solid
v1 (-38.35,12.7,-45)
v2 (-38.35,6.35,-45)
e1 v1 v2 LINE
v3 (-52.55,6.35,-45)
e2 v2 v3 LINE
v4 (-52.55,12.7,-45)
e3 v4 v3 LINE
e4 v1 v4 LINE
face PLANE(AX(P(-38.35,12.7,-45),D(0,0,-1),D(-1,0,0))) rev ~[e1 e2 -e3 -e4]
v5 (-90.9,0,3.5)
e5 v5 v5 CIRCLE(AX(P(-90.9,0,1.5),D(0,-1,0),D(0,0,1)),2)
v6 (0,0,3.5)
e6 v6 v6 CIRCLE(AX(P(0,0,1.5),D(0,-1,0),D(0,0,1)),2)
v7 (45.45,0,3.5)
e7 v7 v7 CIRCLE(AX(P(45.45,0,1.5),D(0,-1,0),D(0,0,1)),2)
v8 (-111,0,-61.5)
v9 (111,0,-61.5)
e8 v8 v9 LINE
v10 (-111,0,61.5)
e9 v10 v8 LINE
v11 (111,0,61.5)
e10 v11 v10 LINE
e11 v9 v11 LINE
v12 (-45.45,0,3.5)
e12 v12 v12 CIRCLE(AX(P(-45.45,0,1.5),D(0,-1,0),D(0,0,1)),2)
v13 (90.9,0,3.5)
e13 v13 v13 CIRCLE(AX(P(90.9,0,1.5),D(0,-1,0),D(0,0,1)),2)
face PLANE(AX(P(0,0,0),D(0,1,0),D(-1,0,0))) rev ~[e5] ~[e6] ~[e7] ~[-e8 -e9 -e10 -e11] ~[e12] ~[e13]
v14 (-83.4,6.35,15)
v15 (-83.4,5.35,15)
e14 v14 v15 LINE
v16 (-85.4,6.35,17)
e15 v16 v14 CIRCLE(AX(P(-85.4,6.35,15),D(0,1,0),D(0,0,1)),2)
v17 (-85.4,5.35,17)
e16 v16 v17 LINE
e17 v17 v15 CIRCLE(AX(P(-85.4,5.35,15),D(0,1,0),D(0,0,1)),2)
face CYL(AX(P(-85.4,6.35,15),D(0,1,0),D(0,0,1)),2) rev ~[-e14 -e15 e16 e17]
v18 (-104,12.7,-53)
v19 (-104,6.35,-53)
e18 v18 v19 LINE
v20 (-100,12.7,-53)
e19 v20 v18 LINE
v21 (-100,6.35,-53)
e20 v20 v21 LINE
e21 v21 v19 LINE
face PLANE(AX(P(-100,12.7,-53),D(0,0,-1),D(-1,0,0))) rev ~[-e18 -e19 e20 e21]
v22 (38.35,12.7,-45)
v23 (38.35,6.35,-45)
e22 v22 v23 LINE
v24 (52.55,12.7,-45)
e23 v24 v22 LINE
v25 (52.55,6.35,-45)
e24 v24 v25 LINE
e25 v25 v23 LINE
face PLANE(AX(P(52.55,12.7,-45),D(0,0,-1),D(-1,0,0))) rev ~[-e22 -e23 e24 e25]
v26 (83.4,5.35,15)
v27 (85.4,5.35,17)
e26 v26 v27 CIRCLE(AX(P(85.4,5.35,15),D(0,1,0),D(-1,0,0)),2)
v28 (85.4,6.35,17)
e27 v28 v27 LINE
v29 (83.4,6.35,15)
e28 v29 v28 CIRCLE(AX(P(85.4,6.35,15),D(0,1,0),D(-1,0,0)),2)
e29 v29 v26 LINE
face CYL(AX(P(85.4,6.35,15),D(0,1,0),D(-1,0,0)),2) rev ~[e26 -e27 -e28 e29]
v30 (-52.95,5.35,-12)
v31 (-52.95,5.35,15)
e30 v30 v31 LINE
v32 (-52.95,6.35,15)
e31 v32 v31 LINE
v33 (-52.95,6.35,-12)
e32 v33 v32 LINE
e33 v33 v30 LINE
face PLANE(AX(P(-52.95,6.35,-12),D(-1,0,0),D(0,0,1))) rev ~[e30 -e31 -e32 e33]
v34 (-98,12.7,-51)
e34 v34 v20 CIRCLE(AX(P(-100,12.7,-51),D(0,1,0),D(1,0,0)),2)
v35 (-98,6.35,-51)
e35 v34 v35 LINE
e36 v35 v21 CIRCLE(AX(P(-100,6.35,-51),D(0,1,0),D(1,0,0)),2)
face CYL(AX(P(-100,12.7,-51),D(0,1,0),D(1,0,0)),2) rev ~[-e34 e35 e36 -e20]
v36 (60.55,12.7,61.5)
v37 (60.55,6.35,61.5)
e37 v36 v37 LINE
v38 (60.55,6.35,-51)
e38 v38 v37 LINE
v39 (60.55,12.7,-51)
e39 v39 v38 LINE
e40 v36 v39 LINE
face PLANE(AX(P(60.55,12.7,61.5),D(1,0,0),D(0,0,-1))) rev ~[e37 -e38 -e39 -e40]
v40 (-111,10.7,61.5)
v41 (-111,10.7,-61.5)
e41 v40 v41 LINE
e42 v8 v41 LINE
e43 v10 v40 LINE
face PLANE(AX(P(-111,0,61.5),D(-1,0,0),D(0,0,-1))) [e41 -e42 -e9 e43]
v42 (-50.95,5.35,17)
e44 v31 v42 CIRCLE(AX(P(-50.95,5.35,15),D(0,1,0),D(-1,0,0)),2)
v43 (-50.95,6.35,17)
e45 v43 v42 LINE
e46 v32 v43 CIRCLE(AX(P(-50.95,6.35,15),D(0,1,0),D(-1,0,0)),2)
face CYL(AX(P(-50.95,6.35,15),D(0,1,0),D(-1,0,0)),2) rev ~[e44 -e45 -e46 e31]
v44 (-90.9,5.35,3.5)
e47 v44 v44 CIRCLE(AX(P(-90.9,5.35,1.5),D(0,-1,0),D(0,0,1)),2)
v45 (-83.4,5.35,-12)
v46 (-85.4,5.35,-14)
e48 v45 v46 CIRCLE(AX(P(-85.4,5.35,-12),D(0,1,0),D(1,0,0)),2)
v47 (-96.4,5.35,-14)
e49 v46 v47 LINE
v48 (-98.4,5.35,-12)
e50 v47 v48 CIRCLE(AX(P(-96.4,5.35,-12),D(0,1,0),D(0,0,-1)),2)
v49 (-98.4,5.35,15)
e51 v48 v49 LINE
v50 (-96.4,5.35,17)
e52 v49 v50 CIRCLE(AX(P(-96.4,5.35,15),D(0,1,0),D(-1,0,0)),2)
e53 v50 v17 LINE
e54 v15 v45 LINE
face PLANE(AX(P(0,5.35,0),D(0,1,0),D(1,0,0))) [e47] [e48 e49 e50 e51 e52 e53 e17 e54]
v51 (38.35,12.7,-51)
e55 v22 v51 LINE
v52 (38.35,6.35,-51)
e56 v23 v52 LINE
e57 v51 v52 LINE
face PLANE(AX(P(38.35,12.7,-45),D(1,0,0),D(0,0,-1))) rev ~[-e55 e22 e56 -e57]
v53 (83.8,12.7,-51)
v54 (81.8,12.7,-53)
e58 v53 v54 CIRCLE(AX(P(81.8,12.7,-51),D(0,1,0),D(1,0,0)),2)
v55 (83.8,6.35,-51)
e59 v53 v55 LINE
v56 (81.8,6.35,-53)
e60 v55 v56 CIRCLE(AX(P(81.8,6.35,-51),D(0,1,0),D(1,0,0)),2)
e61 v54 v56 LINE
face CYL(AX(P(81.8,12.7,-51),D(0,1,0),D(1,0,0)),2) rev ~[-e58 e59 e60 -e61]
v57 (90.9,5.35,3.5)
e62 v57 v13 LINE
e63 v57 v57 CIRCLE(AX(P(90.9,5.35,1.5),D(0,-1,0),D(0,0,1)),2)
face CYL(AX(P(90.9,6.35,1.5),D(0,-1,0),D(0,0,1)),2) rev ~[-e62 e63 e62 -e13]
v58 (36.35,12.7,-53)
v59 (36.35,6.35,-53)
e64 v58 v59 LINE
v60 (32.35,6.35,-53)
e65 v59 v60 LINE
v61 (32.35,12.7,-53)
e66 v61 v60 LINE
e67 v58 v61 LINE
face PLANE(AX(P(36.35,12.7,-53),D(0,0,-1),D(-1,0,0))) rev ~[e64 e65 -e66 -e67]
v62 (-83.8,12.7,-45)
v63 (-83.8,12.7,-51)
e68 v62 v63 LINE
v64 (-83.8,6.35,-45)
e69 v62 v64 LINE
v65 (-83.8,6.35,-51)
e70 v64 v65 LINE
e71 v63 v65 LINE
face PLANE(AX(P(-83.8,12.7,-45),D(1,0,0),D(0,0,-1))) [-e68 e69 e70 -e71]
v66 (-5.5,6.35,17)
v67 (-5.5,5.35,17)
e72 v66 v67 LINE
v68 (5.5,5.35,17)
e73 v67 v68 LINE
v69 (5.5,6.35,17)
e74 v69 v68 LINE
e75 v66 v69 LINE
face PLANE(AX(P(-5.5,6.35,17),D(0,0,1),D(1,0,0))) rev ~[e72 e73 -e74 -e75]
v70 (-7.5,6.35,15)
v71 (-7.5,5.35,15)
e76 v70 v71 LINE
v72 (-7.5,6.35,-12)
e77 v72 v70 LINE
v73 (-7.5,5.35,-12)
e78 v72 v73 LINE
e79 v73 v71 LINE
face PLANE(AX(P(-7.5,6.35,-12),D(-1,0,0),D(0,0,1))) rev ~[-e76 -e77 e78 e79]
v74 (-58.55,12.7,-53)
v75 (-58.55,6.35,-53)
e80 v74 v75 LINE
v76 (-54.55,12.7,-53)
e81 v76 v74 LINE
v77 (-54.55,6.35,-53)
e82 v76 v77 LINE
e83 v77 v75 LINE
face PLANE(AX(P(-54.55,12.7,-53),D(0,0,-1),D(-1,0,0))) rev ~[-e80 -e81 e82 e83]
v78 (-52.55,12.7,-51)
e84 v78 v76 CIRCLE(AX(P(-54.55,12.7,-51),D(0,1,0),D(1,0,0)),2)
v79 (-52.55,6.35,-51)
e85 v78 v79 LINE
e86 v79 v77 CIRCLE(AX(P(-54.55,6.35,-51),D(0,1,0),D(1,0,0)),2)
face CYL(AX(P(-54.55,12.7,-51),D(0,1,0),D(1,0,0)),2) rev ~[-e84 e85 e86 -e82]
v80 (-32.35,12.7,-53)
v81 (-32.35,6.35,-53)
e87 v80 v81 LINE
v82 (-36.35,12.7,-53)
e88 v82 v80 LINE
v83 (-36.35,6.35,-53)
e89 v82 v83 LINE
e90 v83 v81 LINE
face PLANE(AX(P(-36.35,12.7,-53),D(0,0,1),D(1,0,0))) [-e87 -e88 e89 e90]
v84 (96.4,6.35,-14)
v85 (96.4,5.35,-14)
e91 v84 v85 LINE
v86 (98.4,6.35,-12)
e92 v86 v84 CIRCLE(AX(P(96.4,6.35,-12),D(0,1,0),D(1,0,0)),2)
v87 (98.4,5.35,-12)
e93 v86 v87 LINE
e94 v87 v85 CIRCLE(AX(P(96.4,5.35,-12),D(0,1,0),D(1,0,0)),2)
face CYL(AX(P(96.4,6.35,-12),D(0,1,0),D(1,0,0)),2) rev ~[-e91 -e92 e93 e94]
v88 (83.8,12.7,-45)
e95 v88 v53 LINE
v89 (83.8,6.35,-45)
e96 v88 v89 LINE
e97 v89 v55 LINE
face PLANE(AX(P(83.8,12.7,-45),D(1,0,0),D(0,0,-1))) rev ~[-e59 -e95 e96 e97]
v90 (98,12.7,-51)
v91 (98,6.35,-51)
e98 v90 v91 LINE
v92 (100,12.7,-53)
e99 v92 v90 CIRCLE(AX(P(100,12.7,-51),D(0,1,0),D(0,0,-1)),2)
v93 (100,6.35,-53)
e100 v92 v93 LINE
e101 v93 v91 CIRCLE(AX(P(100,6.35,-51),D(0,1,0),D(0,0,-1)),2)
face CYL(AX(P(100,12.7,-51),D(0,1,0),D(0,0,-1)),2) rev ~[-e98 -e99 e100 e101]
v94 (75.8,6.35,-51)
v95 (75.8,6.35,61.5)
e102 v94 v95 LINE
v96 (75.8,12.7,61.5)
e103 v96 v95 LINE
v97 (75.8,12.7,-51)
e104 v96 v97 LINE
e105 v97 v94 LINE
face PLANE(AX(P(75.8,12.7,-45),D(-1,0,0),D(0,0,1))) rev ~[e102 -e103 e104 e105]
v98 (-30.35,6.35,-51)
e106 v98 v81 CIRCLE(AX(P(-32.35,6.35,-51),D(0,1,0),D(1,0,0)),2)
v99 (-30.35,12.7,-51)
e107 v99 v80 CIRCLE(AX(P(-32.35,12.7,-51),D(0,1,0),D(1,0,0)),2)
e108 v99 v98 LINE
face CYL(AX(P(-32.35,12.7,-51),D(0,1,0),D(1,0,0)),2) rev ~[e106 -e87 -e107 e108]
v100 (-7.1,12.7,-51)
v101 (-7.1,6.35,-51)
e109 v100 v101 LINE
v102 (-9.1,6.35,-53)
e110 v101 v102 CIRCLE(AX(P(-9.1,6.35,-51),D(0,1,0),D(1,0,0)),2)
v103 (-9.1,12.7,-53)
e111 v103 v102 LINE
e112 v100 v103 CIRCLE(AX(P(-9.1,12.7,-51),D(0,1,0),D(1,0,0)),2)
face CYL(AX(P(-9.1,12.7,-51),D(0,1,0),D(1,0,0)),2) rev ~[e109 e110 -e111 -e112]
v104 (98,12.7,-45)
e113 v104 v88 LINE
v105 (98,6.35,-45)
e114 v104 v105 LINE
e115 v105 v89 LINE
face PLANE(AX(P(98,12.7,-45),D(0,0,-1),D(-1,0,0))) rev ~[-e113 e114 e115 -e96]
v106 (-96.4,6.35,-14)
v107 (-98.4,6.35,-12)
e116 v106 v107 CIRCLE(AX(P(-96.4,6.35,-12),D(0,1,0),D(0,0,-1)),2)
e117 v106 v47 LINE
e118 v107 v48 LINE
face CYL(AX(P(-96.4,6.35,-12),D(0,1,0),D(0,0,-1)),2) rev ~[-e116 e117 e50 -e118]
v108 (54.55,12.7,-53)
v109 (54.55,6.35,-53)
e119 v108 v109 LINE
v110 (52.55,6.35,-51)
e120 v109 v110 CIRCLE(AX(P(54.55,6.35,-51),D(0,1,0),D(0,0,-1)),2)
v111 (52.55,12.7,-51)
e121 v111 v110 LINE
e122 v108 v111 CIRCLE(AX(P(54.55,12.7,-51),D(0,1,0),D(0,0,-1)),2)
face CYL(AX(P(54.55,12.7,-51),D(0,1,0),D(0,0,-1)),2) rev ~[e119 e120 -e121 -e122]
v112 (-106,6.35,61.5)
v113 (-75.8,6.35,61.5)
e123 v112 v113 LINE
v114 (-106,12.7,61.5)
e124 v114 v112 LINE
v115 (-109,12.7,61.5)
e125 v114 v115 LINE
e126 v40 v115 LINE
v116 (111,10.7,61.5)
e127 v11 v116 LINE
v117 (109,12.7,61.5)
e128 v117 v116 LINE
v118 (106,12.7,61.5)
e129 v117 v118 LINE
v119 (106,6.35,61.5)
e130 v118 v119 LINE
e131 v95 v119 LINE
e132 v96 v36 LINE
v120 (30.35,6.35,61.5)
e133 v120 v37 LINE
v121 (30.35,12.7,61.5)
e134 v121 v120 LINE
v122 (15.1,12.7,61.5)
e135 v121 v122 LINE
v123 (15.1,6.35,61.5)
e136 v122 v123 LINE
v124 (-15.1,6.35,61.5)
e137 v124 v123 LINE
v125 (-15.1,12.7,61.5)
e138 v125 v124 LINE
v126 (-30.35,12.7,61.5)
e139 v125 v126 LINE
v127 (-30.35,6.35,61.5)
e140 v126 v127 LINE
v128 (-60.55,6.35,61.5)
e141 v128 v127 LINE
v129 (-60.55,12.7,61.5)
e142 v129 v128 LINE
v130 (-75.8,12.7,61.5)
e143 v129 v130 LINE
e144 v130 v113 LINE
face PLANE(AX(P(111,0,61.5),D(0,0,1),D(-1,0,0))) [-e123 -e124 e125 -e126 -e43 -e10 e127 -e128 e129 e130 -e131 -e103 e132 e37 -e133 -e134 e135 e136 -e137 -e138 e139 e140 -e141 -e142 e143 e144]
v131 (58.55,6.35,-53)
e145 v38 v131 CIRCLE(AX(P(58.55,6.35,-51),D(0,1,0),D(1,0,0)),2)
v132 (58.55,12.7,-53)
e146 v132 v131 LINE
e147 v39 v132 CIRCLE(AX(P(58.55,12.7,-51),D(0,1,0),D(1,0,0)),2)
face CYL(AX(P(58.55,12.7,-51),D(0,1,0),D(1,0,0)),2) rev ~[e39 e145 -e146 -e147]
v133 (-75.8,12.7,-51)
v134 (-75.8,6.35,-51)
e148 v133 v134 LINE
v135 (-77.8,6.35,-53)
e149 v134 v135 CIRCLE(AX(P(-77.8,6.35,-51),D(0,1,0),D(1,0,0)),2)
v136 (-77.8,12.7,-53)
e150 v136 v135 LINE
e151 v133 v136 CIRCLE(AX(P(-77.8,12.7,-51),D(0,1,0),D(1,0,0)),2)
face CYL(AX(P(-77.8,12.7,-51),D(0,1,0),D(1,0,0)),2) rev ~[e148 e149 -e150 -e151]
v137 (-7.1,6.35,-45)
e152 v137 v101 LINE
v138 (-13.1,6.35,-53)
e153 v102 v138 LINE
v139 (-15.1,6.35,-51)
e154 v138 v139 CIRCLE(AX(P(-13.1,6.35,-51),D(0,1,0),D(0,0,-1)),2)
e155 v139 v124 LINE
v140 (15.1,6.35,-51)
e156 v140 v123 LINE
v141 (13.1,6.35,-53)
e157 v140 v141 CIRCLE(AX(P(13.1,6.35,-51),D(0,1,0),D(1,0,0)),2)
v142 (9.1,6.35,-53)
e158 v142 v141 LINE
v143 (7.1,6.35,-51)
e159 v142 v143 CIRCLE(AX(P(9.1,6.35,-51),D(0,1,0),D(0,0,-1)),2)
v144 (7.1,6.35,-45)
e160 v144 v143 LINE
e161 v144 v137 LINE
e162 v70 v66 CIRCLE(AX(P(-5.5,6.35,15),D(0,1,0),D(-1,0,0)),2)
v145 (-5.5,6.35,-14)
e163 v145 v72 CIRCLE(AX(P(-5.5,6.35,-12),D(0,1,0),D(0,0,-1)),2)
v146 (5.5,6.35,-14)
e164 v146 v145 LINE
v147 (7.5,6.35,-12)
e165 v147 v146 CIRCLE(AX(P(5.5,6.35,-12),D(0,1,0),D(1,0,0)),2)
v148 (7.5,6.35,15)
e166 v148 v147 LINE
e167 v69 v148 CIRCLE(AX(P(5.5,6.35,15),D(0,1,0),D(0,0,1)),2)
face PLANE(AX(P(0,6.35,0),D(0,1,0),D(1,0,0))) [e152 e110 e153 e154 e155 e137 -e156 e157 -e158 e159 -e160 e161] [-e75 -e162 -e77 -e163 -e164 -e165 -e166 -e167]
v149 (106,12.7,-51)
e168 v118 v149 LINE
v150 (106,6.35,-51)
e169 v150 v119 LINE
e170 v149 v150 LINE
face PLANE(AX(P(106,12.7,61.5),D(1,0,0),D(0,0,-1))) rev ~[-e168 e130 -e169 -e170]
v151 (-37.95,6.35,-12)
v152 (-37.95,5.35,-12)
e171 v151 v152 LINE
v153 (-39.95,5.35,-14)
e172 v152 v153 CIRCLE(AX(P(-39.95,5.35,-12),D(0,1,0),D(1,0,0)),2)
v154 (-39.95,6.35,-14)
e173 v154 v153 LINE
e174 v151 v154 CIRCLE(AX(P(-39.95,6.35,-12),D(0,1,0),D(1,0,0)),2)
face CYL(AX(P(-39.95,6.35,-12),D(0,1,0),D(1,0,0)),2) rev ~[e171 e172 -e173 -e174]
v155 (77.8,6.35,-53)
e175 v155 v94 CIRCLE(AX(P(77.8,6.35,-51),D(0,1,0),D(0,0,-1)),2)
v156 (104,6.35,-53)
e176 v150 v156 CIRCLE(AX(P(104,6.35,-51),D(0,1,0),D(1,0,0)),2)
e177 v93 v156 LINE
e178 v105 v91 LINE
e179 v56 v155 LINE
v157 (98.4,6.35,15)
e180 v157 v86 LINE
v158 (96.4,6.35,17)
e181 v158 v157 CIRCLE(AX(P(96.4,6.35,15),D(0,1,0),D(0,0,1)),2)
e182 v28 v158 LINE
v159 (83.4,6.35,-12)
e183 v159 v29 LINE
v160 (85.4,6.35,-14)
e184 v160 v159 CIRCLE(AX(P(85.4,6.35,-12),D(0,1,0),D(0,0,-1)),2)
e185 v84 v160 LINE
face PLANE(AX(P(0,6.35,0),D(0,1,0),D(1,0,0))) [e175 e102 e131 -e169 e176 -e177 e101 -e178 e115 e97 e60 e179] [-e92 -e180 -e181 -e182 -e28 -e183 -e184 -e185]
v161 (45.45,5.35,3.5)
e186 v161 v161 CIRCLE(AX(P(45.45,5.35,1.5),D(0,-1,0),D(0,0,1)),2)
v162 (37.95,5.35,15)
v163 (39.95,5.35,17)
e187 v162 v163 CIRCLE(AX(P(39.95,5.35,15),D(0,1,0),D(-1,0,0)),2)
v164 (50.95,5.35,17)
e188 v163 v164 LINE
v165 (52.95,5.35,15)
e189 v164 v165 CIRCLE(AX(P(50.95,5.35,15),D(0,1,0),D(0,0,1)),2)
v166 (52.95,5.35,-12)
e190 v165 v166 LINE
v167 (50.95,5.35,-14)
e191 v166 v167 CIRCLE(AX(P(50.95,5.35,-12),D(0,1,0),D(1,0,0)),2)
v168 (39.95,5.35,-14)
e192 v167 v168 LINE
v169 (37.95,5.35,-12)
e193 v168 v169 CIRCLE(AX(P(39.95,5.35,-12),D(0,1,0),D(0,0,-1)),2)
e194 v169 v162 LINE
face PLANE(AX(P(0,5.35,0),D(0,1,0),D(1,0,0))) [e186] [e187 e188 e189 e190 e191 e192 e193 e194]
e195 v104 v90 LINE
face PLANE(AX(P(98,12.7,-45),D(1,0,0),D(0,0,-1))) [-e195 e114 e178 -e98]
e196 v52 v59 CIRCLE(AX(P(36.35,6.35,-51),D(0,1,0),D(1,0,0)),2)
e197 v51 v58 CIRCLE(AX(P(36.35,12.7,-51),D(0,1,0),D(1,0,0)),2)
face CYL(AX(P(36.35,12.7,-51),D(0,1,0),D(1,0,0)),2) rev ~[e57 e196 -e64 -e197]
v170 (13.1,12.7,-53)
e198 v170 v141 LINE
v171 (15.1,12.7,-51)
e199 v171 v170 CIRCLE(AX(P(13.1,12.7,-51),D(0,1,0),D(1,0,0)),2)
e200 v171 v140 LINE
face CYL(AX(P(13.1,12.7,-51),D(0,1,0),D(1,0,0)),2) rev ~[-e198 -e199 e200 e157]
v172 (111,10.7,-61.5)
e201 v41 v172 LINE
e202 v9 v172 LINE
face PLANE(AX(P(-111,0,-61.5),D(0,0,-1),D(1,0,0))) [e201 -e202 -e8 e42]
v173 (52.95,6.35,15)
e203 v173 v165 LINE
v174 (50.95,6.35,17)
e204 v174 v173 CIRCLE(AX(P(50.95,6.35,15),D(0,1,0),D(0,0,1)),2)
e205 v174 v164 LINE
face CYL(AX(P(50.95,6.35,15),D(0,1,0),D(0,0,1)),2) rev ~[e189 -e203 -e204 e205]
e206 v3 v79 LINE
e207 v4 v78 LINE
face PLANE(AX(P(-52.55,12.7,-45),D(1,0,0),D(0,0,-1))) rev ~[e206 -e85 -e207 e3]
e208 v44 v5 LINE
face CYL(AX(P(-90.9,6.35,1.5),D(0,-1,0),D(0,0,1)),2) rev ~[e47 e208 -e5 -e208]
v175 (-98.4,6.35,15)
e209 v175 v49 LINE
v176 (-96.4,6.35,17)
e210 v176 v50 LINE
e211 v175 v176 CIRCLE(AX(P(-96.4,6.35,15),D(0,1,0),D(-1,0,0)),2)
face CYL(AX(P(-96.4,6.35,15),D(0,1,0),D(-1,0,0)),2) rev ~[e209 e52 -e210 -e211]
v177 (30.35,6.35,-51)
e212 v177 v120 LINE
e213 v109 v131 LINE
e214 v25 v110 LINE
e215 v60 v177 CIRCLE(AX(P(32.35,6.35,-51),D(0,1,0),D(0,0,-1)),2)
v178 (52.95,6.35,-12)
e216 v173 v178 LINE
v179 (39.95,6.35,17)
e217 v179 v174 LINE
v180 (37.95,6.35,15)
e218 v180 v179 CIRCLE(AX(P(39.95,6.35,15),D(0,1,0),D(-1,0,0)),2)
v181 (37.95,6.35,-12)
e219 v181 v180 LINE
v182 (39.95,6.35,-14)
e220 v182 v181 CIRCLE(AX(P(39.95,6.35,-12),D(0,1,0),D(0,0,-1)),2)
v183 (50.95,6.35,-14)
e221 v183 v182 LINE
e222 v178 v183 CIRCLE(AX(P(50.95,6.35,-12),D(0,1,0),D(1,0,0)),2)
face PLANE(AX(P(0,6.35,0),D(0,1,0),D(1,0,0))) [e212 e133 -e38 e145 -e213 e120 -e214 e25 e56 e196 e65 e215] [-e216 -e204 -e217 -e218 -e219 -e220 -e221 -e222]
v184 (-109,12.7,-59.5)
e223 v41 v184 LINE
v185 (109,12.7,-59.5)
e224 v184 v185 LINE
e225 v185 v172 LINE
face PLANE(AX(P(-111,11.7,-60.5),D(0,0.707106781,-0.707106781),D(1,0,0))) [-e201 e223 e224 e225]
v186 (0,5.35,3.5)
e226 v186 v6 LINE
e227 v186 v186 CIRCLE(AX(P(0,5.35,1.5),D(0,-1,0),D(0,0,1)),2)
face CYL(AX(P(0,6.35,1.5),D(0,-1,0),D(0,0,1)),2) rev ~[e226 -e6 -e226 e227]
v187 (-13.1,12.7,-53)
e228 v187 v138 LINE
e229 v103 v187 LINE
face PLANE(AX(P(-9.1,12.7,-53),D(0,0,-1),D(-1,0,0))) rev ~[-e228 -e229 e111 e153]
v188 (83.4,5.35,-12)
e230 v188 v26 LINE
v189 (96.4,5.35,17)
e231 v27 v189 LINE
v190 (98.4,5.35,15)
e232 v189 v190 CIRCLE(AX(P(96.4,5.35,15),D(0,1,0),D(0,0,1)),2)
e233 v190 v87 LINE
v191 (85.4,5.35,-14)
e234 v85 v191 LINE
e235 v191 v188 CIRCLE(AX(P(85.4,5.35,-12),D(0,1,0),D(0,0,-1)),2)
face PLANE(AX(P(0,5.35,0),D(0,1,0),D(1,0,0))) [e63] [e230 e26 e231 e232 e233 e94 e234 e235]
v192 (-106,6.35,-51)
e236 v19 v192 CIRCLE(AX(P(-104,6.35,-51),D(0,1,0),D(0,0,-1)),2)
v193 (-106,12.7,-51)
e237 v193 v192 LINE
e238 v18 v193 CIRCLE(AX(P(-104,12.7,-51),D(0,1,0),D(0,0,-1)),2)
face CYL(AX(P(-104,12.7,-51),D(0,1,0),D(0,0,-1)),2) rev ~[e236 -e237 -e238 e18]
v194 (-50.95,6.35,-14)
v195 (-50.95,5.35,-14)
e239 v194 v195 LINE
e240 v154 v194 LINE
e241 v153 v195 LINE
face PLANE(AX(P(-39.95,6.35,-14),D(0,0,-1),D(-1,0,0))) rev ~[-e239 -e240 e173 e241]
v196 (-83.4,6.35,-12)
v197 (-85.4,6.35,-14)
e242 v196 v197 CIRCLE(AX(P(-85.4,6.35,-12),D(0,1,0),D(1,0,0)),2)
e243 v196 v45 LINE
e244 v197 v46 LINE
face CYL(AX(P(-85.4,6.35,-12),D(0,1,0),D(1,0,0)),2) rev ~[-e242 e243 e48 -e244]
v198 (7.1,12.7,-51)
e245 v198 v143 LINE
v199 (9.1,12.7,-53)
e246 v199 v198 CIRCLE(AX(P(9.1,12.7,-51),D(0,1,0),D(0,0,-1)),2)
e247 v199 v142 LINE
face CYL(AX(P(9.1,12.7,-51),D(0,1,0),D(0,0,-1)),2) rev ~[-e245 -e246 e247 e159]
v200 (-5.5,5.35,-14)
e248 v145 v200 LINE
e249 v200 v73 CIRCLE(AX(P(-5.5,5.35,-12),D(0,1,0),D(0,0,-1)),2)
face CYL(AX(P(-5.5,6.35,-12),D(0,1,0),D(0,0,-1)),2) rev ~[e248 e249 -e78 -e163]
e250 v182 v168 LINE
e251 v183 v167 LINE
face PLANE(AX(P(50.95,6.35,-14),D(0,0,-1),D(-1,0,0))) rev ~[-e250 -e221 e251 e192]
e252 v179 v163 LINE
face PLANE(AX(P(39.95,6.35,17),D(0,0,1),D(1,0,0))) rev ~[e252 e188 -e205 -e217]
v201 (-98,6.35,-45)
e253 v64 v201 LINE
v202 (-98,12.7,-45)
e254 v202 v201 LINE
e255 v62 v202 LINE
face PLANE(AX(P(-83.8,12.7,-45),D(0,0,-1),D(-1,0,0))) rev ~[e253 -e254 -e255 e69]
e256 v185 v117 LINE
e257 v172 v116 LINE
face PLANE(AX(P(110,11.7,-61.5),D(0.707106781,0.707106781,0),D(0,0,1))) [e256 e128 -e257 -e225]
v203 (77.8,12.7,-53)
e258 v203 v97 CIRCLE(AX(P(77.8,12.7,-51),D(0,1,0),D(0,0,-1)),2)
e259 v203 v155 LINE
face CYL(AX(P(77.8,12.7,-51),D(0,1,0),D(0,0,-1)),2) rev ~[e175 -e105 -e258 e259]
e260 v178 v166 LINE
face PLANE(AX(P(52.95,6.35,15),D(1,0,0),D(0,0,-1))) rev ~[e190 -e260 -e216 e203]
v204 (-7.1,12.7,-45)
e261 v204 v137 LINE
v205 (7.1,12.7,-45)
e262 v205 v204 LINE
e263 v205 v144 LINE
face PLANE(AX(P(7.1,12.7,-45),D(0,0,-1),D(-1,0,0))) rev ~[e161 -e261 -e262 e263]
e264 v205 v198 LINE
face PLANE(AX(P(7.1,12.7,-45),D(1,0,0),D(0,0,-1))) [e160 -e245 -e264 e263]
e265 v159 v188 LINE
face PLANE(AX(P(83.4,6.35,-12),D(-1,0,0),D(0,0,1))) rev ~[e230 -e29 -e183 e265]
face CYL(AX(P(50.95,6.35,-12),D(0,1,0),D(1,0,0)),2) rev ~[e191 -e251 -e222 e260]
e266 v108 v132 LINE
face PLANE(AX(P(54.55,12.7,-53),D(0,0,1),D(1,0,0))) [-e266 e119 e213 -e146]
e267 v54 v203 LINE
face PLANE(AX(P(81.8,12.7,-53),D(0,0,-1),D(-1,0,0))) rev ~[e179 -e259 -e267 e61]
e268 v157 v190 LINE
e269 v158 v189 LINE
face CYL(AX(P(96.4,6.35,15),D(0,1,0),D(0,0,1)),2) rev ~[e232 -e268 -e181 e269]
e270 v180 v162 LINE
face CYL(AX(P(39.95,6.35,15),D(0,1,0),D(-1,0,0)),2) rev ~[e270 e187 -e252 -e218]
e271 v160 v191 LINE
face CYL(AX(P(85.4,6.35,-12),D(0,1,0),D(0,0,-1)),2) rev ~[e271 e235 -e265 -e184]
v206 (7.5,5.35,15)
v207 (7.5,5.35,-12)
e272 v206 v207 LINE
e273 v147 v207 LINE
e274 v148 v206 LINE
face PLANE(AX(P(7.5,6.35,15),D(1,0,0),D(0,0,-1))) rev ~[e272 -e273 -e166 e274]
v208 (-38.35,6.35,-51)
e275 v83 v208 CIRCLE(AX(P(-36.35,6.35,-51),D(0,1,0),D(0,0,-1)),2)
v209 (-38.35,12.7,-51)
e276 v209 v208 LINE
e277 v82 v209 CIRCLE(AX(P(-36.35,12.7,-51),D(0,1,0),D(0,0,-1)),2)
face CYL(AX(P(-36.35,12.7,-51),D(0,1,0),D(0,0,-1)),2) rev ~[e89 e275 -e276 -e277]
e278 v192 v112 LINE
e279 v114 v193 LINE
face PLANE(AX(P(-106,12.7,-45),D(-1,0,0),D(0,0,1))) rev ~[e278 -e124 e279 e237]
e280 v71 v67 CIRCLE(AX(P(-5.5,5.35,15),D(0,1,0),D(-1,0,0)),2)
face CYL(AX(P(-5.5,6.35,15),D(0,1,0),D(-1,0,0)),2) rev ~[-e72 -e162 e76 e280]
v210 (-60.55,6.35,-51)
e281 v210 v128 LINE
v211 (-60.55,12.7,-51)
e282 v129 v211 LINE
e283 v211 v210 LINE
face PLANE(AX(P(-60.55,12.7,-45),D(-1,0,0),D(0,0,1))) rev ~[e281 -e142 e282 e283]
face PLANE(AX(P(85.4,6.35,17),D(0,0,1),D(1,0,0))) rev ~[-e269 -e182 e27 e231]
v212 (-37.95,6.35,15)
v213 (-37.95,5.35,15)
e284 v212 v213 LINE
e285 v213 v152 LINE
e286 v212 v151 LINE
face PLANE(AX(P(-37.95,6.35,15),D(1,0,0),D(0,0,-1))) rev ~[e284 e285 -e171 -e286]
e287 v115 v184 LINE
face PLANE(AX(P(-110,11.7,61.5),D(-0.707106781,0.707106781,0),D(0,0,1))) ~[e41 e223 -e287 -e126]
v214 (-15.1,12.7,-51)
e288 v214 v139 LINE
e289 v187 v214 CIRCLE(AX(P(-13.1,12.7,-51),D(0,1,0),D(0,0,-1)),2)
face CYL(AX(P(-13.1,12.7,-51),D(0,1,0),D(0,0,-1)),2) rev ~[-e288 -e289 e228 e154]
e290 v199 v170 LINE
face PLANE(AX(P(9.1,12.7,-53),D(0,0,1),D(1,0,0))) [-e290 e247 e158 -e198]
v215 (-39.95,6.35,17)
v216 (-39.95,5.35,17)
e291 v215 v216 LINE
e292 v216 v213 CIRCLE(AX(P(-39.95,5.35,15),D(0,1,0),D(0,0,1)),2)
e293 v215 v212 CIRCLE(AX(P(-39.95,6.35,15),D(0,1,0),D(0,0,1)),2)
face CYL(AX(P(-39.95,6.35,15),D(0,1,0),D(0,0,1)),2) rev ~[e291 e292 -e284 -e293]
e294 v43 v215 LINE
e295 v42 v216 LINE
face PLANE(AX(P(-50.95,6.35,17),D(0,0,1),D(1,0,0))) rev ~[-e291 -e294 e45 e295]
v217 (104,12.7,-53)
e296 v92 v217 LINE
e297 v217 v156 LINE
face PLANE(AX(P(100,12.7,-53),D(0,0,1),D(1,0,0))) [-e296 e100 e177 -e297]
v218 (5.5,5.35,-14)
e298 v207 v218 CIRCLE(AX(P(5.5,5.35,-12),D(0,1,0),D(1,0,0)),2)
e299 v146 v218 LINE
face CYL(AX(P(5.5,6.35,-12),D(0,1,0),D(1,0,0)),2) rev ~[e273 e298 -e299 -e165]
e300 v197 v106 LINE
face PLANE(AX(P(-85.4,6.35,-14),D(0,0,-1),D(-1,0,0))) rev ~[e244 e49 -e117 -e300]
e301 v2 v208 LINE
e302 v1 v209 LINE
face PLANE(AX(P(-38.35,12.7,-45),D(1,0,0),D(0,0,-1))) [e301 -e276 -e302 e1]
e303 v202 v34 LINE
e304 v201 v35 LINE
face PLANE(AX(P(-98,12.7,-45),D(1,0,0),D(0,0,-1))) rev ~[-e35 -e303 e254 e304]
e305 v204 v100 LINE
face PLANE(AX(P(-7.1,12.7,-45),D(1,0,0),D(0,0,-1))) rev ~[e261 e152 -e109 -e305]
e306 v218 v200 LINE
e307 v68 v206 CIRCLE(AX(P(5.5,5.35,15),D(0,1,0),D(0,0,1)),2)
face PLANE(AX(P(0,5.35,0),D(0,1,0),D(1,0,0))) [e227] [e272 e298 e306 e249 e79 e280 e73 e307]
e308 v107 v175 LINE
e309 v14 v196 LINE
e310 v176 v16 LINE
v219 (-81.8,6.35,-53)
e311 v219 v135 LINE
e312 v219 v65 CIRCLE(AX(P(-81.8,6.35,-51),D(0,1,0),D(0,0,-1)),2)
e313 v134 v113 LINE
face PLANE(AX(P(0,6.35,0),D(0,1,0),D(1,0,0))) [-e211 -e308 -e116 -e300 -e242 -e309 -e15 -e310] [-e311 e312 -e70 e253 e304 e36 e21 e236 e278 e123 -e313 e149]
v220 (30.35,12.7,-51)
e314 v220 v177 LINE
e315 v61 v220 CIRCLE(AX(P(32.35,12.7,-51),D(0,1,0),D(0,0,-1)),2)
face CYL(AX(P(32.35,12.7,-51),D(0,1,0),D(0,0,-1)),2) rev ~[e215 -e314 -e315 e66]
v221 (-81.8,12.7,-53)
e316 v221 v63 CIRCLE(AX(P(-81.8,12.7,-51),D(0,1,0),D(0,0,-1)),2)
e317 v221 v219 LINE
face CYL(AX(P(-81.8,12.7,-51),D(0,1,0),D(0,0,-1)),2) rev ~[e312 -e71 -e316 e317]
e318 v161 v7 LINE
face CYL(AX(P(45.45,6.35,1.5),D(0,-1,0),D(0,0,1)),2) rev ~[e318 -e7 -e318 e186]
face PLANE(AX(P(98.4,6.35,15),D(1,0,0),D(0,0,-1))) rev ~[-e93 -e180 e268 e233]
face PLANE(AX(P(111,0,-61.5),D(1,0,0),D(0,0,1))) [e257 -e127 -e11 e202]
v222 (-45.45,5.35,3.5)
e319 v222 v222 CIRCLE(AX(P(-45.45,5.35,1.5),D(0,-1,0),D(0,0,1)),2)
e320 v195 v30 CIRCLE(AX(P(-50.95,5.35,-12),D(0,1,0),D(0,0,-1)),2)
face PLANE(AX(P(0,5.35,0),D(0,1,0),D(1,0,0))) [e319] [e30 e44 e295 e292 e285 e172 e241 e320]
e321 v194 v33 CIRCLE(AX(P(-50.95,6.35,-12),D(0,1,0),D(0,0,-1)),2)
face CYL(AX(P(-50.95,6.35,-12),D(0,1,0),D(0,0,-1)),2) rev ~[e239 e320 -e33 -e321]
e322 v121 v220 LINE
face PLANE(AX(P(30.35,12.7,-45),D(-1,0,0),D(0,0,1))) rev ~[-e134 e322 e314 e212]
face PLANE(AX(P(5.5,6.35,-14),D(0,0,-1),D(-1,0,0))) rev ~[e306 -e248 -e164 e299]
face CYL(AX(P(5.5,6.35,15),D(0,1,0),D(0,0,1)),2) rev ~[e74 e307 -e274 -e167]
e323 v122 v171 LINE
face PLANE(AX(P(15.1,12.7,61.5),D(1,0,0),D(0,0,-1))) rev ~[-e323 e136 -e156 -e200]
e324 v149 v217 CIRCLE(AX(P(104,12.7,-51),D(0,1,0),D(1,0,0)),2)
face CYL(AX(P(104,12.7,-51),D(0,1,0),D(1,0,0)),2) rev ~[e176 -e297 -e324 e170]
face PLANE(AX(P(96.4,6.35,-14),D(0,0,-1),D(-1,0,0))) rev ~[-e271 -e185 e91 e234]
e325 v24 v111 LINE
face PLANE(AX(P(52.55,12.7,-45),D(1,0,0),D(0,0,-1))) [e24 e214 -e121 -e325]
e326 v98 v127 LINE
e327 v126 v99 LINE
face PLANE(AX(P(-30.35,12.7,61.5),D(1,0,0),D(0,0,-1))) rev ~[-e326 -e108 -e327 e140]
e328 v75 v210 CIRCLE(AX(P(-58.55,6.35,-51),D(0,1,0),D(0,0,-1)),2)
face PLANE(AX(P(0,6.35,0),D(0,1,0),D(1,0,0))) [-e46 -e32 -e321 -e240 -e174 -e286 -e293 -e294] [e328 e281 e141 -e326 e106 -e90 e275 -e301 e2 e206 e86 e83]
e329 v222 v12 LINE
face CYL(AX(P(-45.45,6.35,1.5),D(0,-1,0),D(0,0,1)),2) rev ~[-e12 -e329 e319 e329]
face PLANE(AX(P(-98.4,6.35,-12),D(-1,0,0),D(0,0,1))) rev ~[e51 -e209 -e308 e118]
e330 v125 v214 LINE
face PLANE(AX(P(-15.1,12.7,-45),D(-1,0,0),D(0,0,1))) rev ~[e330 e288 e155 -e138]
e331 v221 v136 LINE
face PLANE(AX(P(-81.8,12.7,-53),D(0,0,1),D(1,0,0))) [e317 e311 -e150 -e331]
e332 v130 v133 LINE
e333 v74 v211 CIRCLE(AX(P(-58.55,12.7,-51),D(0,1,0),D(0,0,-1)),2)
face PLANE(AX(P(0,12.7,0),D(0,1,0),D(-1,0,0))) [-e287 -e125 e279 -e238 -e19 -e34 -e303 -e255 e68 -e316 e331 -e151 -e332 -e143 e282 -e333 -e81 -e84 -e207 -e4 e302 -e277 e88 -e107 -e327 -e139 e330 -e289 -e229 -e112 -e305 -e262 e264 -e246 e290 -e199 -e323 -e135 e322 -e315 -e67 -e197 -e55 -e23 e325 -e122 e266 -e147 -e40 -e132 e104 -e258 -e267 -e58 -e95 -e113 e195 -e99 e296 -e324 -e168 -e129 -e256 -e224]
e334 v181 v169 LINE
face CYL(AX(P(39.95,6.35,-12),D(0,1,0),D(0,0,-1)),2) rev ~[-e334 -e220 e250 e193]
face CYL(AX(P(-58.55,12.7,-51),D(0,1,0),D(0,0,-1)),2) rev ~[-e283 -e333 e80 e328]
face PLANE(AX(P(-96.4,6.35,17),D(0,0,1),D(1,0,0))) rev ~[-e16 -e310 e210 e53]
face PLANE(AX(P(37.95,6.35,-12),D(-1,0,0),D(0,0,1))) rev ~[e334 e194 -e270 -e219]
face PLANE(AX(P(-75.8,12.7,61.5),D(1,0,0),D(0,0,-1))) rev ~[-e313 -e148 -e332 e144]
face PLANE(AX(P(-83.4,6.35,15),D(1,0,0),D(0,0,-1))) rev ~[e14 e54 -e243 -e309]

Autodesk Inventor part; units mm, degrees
ref_plane "YZ Plane" through (0, 0, 0) normal (1, 0, 0) x (0, 1, 0)
ref_plane "XZ Plane" through (0, 0, 0) normal (0, 1, 0) x (-1, 0, 0)
ref_plane "XY Plane" through (0, 0, 0) normal (0, 0, 1) x (1, 0, 0)
sketch "Sketch1" plane through (0, 0, 0) normal (0, 1, 0) x (-1, 0, 0)
  line L0 (-111, 61.5) -> (111, 61.5)
  line L1 (111, 61.5) -> (111, -61.5)
  line L2 (111, -61.5) -> (-111, -61.5)
  line L3 (-111, -61.5) -> (-111, 61.5)
  line L4 (-111, 61.5) -> (111, -61.5) construction
  line L5 (111, 61.5) -> (-111, -61.5) construction
  point P0 (0, 0)
  dimension "d0" = 222
  dimension "d1" = 123
extrude "Extrusion1" add sketch "Sketch1" along normal blind 12.7
sketch "Sketch2" plane through (0, 12.7, 0) normal (0, 1, 0) x (1, 0, 0)
  line L0 (-111, -61.5) -> (111, -61.5) projected
  line L1 (-106, -61.5) -> (-75.8, -61.5)
  line L2 (-75.8, -61.5) -> (-75.8, 45)
  line L3 (-75.8, 45) -> (-106, 45)
  line L4 (-106, 45) -> (-106, -61.5)
  line L5 (-111, 61.5) -> (-111, -61.5) projected
  line L6 (-106, 45) -> (-98, 45)
  line L7 (-98, 45) -> (-98, 51)
  line L8 (-100, 53) -> (-104, 53)
  line L9 (-106, 51) -> (-106, 45)
  line L10 (-75.8, 45) -> (-83.8, 45)
  line L11 (-83.8, 45) -> (-83.8, 51)
  line L12 (-81.8, 53) -> (-77.8, 53)
  line L13 (-75.8, 51) -> (-75.8, 45)
  arc A0 (-104, 53) -> (-106, 51) centre (-104, 51) ccw
  arc A1 (-98, 51) -> (-100, 53) centre (-100, 51) ccw
  arc A2 (-81.8, 53) -> (-83.8, 51) centre (-81.8, 51) ccw
  arc A3 (-75.8, 51) -> (-77.8, 53) centre (-77.8, 51) ccw
  line L14 (-60.55, -61.5) -> (-30.35, -61.5)
  line L15 (-30.35, -61.5) -> (-30.35, 45)
  arc A4 (-58.55, 53) -> (-60.55, 51) centre (-58.55, 51) ccw
  line L16 (-60.55, 51) -> (-60.55, 45)
  line L17 (-60.55, 45) -> (-60.55, -61.5)
  line L18 (-30.35, 45) -> (-60.55, 45)
  line L19 (-60.55, 45) -> (-52.55, 45)
  line L20 (-54.55, 53) -> (-58.55, 53)
  line L21 (-52.55, 45) -> (-52.55, 51)
  arc A5 (-52.55, 51) -> (-54.55, 53) centre (-54.55, 51) ccw
  line L22 (-38.35, 45) -> (-38.35, 51)
  arc A6 (-36.35, 53) -> (-38.35, 51) centre (-36.35, 51) ccw
  line L23 (-36.35, 53) -> (-32.35, 53)
  line L24 (-30.35, 45) -> (-38.35, 45)
  line L25 (-30.35, 51) -> (-30.35, 45)
  arc A7 (-30.35, 51) -> (-32.35, 53) centre (-32.35, 51) ccw
  line L26 (-15.1, -61.5) -> (15.1, -61.5)
  line L27 (15.1, -61.5) -> (15.1, 45)
  arc A8 (-13.1, 53) -> (-15.1, 51) centre (-13.1, 51) ccw
  line L28 (-15.1, 51) -> (-15.1, 45)
  line L29 (-15.1, 45) -> (-15.1, -61.5)
  line L30 (15.1, 45) -> (-15.1, 45)
  line L31 (-15.1, 45) -> (-7.1, 45)
  line L32 (-9.1, 53) -> (-13.1, 53)
  line L33 (-7.1, 45) -> (-7.1, 51)
  arc A9 (-7.1, 51) -> (-9.1, 53) centre (-9.1, 51) ccw
  line L34 (7.1, 45) -> (7.1, 51)
  arc A10 (9.1, 53) -> (7.1, 51) centre (9.1, 51) ccw
  line L35 (9.1, 53) -> (13.1, 53)
  line L36 (15.1, 45) -> (7.1, 45)
  line L37 (15.1, 51) -> (15.1, 45)
  arc A11 (15.1, 51) -> (13.1, 53) centre (13.1, 51) ccw
  line L38 (30.35, -61.5) -> (60.55, -61.5)
  line L39 (60.55, -61.5) -> (60.55, 45)
  arc A12 (32.35, 53) -> (30.35, 51) centre (32.35, 51) ccw
  line L40 (30.35, 51) -> (30.35, 45)
  line L41 (30.35, 45) -> (30.35, -61.5)
  line L42 (60.55, 45) -> (30.35, 45)
  line L43 (30.35, 45) -> (38.35, 45)
  line L44 (36.35, 53) -> (32.35, 53)
  line L45 (38.35, 45) -> (38.35, 51)
  arc A13 (38.35, 51) -> (36.35, 53) centre (36.35, 51) ccw
  line L46 (52.55, 45) -> (52.55, 51)
  arc A14 (54.55, 53) -> (52.55, 51) centre (54.55, 51) ccw
  line L47 (54.55, 53) -> (58.55, 53)
  line L48 (60.55, 45) -> (52.55, 45)
  line L49 (60.55, 51) -> (60.55, 45)
  arc A15 (60.55, 51) -> (58.55, 53) centre (58.55, 51) ccw
  line L50 (75.8, -61.5) -> (106, -61.5)
  line L51 (106, -61.5) -> (106, 45)
  arc A16 (77.8, 53) -> (75.8, 51) centre (77.8, 51) ccw
  line L52 (75.8, 51) -> (75.8, 45)
  line L53 (75.8, 45) -> (75.8, -61.5)
  line L54 (106, 45) -> (75.8, 45)
  line L55 (75.8, 45) -> (83.8, 45)
  line L56 (81.8, 53) -> (77.8, 53)
  line L57 (83.8, 45) -> (83.8, 51)
  arc A17 (83.8, 51) -> (81.8, 53) centre (81.8, 51) ccw
  line L58 (98, 45) -> (98, 51)
  arc A18 (100, 53) -> (98, 51) centre (100, 51) ccw
  line L59 (100, 53) -> (104, 53)
  line L60 (106, 45) -> (98, 45)
  line L61 (106, 51) -> (106, 45)
  arc A19 (106, 51) -> (104, 53) centre (104, 51) ccw
  point P0 (0, 0)
  point P1 (-98, 53)
  point P2 (-106, 53)
  point P3 (-83.8, 53)
  point P4 (-75.8, 53)
  point P5 (-60.55, 53)
  point P6 (-38.35, 53)
  point P7 (-52.55, 53)
  point P8 (-30.35, 53)
  point P9 (-15.1, 53)
  point P10 (7.1, 53)
  point P11 (-7.1, 53)
  point P12 (15.1, 53)
  point P13 (30.35, 53)
  point P14 (52.55, 53)
  point P15 (38.35, 53)
  point P16 (60.55, 53)
  point P17 (75.8, 53)
  point P18 (98, 53)
  point P19 (83.8, 53)
  point P20 (106, 53)
  dimension "d4" = 30.2
  dimension "d5" = 45
  dimension "d6" = 5
  dimension "d7" = 8
  dimension "d8" = 8
  dimension "d9" = 8
  dimension "d10" = 2
  dimension "d13" = 45.45
extrude "Extrusion2" cut sketch "Sketch2" against normal blind 6.35
sketch "Sketch3" plane through (0, 6.35, 0) normal (0, 1, 0) x (1, 0, 0)
  line L0 (-96.4, -17) -> (-85.4, -17)
  line L1 (-83.4, -15) -> (-83.4, 12)
  line L2 (-85.4, 14) -> (-96.4, 14)
  line L3 (-98.4, 12) -> (-98.4, -15)
  line L4 (-98, 45) -> (-83.8, 45) projected
  line L5 (-106, -61.5) -> (-106, 51) projected
  line L6 (-75.8, 51) -> (-75.8, -61.5) projected
  arc A0 (-96.4, 14) -> (-98.4, 12) centre (-96.4, 12) ccw
  arc A1 (-83.4, 12) -> (-85.4, 14) centre (-85.4, 12) ccw
  arc A2 (-98.4, -15) -> (-96.4, -17) centre (-96.4, -15) ccw
  arc A3 (-85.4, -17) -> (-83.4, -15) centre (-85.4, -15) ccw
  line L7 (-37.95, -15) -> (-37.95, 12)
  line L8 (-52.95, 12) -> (-52.95, -15)
  line L9 (-50.95, -17) -> (-39.95, -17)
  arc A4 (-52.95, -15) -> (-50.95, -17) centre (-50.95, -15) ccw
  arc A5 (-39.95, -17) -> (-37.95, -15) centre (-39.95, -15) ccw
  arc A6 (-50.95, 14) -> (-52.95, 12) centre (-50.95, 12) ccw
  arc A7 (-37.95, 12) -> (-39.95, 14) centre (-39.95, 12) ccw
  line L10 (-39.95, 14) -> (-50.95, 14)
  line L11 (7.5, -15) -> (7.5, 12)
  line L12 (-7.5, 12) -> (-7.5, -15)
  line L13 (-5.5, -17) -> (5.5, -17)
  arc A8 (-7.5, -15) -> (-5.5, -17) centre (-5.5, -15) ccw
  arc A9 (5.5, -17) -> (7.5, -15) centre (5.5, -15) ccw
  arc A10 (-5.5, 14) -> (-7.5, 12) centre (-5.5, 12) ccw
  arc A11 (7.5, 12) -> (5.5, 14) centre (5.5, 12) ccw
  line L14 (5.5, 14) -> (-5.5, 14)
  line L15 (52.95, -15) -> (52.95, 12)
  line L16 (37.95, 12) -> (37.95, -15)
  line L17 (39.95, -17) -> (50.95, -17)
  arc A12 (37.95, -15) -> (39.95, -17) centre (39.95, -15) ccw
  arc A13 (50.95, -17) -> (52.95, -15) centre (50.95, -15) ccw
  arc A14 (39.95, 14) -> (37.95, 12) centre (39.95, 12) ccw
  arc A15 (52.95, 12) -> (50.95, 14) centre (50.95, 12) ccw
  line L18 (50.95, 14) -> (39.95, 14)
  line L19 (98.4, -15) -> (98.4, 12)
  line L20 (83.4, 12) -> (83.4, -15)
  line L21 (85.4, -17) -> (96.4, -17)
  arc A16 (83.4, -15) -> (85.4, -17) centre (85.4, -15) ccw
  arc A17 (96.4, -17) -> (98.4, -15) centre (96.4, -15) ccw
  arc A18 (85.4, 14) -> (83.4, 12) centre (85.4, 12) ccw
  arc A19 (98.4, 12) -> (96.4, 14) centre (96.4, 12) ccw
  line L22 (96.4, 14) -> (85.4, 14)
  point P0 (0, 0)
  point P1 (-98.4, -17)
  point P2 (-83.4, 14)
  point P3 (-98.4, 14)
  point P4 (-90.9, -1.5)
  point P5 (-37.95, 14)
  point P6 (-52.95, 14)
  point P7 (-52.95, -17)
  point P8 (-45.45, -1.5)
  point P9 (7.5, 14)
  point P10 (-7.5, 14)
  point P11 (-7.5, -17)
  point P12 (0, -1.5)
  point P13 (52.95, 14)
  point P14 (37.95, 14)
  point P15 (37.95, -17)
  point P16 (45.45, -1.5)
  point P17 (98.4, 14)
  point P18 (83.4, 14)
  point P19 (83.4, -17)
  point P20 (90.9, -1.5)
  dimension "d20" = 31
  dimension "d21" = 15
  dimension "d22" = 31
  dimension "d23" = 30.2
  dimension "d24" = 7.6
  dimension "d25" = 2
  dimension "d26" = 15.5
  dimension "d27" = 7.5
  dimension "d30" = 45.45
extrude "Extrusion3" cut sketch "Sketch3" against normal blind 1
hole "Hole1" at (-90.9, 6.35, 1.5) at (-45.45, 6.35, 1.5) at (0, 6.35, 1.5) at (45.45, 6.35, 1.5) at (90.9, 6.35, 1.5) direction (0, -1, 0) diameter 4 end through all
chamfer "Chamfer1" distance 2 angle 45 3 edges at (-111, 12.7, 0) (0, 12.7, -61.5) (111, 12.7, 0)
equation "\"d8\" = d7"
equation "\"d24\" = -0.5 * d21 + 0.5 * d23"
properties part number "CROC Wirebonding Plate"
